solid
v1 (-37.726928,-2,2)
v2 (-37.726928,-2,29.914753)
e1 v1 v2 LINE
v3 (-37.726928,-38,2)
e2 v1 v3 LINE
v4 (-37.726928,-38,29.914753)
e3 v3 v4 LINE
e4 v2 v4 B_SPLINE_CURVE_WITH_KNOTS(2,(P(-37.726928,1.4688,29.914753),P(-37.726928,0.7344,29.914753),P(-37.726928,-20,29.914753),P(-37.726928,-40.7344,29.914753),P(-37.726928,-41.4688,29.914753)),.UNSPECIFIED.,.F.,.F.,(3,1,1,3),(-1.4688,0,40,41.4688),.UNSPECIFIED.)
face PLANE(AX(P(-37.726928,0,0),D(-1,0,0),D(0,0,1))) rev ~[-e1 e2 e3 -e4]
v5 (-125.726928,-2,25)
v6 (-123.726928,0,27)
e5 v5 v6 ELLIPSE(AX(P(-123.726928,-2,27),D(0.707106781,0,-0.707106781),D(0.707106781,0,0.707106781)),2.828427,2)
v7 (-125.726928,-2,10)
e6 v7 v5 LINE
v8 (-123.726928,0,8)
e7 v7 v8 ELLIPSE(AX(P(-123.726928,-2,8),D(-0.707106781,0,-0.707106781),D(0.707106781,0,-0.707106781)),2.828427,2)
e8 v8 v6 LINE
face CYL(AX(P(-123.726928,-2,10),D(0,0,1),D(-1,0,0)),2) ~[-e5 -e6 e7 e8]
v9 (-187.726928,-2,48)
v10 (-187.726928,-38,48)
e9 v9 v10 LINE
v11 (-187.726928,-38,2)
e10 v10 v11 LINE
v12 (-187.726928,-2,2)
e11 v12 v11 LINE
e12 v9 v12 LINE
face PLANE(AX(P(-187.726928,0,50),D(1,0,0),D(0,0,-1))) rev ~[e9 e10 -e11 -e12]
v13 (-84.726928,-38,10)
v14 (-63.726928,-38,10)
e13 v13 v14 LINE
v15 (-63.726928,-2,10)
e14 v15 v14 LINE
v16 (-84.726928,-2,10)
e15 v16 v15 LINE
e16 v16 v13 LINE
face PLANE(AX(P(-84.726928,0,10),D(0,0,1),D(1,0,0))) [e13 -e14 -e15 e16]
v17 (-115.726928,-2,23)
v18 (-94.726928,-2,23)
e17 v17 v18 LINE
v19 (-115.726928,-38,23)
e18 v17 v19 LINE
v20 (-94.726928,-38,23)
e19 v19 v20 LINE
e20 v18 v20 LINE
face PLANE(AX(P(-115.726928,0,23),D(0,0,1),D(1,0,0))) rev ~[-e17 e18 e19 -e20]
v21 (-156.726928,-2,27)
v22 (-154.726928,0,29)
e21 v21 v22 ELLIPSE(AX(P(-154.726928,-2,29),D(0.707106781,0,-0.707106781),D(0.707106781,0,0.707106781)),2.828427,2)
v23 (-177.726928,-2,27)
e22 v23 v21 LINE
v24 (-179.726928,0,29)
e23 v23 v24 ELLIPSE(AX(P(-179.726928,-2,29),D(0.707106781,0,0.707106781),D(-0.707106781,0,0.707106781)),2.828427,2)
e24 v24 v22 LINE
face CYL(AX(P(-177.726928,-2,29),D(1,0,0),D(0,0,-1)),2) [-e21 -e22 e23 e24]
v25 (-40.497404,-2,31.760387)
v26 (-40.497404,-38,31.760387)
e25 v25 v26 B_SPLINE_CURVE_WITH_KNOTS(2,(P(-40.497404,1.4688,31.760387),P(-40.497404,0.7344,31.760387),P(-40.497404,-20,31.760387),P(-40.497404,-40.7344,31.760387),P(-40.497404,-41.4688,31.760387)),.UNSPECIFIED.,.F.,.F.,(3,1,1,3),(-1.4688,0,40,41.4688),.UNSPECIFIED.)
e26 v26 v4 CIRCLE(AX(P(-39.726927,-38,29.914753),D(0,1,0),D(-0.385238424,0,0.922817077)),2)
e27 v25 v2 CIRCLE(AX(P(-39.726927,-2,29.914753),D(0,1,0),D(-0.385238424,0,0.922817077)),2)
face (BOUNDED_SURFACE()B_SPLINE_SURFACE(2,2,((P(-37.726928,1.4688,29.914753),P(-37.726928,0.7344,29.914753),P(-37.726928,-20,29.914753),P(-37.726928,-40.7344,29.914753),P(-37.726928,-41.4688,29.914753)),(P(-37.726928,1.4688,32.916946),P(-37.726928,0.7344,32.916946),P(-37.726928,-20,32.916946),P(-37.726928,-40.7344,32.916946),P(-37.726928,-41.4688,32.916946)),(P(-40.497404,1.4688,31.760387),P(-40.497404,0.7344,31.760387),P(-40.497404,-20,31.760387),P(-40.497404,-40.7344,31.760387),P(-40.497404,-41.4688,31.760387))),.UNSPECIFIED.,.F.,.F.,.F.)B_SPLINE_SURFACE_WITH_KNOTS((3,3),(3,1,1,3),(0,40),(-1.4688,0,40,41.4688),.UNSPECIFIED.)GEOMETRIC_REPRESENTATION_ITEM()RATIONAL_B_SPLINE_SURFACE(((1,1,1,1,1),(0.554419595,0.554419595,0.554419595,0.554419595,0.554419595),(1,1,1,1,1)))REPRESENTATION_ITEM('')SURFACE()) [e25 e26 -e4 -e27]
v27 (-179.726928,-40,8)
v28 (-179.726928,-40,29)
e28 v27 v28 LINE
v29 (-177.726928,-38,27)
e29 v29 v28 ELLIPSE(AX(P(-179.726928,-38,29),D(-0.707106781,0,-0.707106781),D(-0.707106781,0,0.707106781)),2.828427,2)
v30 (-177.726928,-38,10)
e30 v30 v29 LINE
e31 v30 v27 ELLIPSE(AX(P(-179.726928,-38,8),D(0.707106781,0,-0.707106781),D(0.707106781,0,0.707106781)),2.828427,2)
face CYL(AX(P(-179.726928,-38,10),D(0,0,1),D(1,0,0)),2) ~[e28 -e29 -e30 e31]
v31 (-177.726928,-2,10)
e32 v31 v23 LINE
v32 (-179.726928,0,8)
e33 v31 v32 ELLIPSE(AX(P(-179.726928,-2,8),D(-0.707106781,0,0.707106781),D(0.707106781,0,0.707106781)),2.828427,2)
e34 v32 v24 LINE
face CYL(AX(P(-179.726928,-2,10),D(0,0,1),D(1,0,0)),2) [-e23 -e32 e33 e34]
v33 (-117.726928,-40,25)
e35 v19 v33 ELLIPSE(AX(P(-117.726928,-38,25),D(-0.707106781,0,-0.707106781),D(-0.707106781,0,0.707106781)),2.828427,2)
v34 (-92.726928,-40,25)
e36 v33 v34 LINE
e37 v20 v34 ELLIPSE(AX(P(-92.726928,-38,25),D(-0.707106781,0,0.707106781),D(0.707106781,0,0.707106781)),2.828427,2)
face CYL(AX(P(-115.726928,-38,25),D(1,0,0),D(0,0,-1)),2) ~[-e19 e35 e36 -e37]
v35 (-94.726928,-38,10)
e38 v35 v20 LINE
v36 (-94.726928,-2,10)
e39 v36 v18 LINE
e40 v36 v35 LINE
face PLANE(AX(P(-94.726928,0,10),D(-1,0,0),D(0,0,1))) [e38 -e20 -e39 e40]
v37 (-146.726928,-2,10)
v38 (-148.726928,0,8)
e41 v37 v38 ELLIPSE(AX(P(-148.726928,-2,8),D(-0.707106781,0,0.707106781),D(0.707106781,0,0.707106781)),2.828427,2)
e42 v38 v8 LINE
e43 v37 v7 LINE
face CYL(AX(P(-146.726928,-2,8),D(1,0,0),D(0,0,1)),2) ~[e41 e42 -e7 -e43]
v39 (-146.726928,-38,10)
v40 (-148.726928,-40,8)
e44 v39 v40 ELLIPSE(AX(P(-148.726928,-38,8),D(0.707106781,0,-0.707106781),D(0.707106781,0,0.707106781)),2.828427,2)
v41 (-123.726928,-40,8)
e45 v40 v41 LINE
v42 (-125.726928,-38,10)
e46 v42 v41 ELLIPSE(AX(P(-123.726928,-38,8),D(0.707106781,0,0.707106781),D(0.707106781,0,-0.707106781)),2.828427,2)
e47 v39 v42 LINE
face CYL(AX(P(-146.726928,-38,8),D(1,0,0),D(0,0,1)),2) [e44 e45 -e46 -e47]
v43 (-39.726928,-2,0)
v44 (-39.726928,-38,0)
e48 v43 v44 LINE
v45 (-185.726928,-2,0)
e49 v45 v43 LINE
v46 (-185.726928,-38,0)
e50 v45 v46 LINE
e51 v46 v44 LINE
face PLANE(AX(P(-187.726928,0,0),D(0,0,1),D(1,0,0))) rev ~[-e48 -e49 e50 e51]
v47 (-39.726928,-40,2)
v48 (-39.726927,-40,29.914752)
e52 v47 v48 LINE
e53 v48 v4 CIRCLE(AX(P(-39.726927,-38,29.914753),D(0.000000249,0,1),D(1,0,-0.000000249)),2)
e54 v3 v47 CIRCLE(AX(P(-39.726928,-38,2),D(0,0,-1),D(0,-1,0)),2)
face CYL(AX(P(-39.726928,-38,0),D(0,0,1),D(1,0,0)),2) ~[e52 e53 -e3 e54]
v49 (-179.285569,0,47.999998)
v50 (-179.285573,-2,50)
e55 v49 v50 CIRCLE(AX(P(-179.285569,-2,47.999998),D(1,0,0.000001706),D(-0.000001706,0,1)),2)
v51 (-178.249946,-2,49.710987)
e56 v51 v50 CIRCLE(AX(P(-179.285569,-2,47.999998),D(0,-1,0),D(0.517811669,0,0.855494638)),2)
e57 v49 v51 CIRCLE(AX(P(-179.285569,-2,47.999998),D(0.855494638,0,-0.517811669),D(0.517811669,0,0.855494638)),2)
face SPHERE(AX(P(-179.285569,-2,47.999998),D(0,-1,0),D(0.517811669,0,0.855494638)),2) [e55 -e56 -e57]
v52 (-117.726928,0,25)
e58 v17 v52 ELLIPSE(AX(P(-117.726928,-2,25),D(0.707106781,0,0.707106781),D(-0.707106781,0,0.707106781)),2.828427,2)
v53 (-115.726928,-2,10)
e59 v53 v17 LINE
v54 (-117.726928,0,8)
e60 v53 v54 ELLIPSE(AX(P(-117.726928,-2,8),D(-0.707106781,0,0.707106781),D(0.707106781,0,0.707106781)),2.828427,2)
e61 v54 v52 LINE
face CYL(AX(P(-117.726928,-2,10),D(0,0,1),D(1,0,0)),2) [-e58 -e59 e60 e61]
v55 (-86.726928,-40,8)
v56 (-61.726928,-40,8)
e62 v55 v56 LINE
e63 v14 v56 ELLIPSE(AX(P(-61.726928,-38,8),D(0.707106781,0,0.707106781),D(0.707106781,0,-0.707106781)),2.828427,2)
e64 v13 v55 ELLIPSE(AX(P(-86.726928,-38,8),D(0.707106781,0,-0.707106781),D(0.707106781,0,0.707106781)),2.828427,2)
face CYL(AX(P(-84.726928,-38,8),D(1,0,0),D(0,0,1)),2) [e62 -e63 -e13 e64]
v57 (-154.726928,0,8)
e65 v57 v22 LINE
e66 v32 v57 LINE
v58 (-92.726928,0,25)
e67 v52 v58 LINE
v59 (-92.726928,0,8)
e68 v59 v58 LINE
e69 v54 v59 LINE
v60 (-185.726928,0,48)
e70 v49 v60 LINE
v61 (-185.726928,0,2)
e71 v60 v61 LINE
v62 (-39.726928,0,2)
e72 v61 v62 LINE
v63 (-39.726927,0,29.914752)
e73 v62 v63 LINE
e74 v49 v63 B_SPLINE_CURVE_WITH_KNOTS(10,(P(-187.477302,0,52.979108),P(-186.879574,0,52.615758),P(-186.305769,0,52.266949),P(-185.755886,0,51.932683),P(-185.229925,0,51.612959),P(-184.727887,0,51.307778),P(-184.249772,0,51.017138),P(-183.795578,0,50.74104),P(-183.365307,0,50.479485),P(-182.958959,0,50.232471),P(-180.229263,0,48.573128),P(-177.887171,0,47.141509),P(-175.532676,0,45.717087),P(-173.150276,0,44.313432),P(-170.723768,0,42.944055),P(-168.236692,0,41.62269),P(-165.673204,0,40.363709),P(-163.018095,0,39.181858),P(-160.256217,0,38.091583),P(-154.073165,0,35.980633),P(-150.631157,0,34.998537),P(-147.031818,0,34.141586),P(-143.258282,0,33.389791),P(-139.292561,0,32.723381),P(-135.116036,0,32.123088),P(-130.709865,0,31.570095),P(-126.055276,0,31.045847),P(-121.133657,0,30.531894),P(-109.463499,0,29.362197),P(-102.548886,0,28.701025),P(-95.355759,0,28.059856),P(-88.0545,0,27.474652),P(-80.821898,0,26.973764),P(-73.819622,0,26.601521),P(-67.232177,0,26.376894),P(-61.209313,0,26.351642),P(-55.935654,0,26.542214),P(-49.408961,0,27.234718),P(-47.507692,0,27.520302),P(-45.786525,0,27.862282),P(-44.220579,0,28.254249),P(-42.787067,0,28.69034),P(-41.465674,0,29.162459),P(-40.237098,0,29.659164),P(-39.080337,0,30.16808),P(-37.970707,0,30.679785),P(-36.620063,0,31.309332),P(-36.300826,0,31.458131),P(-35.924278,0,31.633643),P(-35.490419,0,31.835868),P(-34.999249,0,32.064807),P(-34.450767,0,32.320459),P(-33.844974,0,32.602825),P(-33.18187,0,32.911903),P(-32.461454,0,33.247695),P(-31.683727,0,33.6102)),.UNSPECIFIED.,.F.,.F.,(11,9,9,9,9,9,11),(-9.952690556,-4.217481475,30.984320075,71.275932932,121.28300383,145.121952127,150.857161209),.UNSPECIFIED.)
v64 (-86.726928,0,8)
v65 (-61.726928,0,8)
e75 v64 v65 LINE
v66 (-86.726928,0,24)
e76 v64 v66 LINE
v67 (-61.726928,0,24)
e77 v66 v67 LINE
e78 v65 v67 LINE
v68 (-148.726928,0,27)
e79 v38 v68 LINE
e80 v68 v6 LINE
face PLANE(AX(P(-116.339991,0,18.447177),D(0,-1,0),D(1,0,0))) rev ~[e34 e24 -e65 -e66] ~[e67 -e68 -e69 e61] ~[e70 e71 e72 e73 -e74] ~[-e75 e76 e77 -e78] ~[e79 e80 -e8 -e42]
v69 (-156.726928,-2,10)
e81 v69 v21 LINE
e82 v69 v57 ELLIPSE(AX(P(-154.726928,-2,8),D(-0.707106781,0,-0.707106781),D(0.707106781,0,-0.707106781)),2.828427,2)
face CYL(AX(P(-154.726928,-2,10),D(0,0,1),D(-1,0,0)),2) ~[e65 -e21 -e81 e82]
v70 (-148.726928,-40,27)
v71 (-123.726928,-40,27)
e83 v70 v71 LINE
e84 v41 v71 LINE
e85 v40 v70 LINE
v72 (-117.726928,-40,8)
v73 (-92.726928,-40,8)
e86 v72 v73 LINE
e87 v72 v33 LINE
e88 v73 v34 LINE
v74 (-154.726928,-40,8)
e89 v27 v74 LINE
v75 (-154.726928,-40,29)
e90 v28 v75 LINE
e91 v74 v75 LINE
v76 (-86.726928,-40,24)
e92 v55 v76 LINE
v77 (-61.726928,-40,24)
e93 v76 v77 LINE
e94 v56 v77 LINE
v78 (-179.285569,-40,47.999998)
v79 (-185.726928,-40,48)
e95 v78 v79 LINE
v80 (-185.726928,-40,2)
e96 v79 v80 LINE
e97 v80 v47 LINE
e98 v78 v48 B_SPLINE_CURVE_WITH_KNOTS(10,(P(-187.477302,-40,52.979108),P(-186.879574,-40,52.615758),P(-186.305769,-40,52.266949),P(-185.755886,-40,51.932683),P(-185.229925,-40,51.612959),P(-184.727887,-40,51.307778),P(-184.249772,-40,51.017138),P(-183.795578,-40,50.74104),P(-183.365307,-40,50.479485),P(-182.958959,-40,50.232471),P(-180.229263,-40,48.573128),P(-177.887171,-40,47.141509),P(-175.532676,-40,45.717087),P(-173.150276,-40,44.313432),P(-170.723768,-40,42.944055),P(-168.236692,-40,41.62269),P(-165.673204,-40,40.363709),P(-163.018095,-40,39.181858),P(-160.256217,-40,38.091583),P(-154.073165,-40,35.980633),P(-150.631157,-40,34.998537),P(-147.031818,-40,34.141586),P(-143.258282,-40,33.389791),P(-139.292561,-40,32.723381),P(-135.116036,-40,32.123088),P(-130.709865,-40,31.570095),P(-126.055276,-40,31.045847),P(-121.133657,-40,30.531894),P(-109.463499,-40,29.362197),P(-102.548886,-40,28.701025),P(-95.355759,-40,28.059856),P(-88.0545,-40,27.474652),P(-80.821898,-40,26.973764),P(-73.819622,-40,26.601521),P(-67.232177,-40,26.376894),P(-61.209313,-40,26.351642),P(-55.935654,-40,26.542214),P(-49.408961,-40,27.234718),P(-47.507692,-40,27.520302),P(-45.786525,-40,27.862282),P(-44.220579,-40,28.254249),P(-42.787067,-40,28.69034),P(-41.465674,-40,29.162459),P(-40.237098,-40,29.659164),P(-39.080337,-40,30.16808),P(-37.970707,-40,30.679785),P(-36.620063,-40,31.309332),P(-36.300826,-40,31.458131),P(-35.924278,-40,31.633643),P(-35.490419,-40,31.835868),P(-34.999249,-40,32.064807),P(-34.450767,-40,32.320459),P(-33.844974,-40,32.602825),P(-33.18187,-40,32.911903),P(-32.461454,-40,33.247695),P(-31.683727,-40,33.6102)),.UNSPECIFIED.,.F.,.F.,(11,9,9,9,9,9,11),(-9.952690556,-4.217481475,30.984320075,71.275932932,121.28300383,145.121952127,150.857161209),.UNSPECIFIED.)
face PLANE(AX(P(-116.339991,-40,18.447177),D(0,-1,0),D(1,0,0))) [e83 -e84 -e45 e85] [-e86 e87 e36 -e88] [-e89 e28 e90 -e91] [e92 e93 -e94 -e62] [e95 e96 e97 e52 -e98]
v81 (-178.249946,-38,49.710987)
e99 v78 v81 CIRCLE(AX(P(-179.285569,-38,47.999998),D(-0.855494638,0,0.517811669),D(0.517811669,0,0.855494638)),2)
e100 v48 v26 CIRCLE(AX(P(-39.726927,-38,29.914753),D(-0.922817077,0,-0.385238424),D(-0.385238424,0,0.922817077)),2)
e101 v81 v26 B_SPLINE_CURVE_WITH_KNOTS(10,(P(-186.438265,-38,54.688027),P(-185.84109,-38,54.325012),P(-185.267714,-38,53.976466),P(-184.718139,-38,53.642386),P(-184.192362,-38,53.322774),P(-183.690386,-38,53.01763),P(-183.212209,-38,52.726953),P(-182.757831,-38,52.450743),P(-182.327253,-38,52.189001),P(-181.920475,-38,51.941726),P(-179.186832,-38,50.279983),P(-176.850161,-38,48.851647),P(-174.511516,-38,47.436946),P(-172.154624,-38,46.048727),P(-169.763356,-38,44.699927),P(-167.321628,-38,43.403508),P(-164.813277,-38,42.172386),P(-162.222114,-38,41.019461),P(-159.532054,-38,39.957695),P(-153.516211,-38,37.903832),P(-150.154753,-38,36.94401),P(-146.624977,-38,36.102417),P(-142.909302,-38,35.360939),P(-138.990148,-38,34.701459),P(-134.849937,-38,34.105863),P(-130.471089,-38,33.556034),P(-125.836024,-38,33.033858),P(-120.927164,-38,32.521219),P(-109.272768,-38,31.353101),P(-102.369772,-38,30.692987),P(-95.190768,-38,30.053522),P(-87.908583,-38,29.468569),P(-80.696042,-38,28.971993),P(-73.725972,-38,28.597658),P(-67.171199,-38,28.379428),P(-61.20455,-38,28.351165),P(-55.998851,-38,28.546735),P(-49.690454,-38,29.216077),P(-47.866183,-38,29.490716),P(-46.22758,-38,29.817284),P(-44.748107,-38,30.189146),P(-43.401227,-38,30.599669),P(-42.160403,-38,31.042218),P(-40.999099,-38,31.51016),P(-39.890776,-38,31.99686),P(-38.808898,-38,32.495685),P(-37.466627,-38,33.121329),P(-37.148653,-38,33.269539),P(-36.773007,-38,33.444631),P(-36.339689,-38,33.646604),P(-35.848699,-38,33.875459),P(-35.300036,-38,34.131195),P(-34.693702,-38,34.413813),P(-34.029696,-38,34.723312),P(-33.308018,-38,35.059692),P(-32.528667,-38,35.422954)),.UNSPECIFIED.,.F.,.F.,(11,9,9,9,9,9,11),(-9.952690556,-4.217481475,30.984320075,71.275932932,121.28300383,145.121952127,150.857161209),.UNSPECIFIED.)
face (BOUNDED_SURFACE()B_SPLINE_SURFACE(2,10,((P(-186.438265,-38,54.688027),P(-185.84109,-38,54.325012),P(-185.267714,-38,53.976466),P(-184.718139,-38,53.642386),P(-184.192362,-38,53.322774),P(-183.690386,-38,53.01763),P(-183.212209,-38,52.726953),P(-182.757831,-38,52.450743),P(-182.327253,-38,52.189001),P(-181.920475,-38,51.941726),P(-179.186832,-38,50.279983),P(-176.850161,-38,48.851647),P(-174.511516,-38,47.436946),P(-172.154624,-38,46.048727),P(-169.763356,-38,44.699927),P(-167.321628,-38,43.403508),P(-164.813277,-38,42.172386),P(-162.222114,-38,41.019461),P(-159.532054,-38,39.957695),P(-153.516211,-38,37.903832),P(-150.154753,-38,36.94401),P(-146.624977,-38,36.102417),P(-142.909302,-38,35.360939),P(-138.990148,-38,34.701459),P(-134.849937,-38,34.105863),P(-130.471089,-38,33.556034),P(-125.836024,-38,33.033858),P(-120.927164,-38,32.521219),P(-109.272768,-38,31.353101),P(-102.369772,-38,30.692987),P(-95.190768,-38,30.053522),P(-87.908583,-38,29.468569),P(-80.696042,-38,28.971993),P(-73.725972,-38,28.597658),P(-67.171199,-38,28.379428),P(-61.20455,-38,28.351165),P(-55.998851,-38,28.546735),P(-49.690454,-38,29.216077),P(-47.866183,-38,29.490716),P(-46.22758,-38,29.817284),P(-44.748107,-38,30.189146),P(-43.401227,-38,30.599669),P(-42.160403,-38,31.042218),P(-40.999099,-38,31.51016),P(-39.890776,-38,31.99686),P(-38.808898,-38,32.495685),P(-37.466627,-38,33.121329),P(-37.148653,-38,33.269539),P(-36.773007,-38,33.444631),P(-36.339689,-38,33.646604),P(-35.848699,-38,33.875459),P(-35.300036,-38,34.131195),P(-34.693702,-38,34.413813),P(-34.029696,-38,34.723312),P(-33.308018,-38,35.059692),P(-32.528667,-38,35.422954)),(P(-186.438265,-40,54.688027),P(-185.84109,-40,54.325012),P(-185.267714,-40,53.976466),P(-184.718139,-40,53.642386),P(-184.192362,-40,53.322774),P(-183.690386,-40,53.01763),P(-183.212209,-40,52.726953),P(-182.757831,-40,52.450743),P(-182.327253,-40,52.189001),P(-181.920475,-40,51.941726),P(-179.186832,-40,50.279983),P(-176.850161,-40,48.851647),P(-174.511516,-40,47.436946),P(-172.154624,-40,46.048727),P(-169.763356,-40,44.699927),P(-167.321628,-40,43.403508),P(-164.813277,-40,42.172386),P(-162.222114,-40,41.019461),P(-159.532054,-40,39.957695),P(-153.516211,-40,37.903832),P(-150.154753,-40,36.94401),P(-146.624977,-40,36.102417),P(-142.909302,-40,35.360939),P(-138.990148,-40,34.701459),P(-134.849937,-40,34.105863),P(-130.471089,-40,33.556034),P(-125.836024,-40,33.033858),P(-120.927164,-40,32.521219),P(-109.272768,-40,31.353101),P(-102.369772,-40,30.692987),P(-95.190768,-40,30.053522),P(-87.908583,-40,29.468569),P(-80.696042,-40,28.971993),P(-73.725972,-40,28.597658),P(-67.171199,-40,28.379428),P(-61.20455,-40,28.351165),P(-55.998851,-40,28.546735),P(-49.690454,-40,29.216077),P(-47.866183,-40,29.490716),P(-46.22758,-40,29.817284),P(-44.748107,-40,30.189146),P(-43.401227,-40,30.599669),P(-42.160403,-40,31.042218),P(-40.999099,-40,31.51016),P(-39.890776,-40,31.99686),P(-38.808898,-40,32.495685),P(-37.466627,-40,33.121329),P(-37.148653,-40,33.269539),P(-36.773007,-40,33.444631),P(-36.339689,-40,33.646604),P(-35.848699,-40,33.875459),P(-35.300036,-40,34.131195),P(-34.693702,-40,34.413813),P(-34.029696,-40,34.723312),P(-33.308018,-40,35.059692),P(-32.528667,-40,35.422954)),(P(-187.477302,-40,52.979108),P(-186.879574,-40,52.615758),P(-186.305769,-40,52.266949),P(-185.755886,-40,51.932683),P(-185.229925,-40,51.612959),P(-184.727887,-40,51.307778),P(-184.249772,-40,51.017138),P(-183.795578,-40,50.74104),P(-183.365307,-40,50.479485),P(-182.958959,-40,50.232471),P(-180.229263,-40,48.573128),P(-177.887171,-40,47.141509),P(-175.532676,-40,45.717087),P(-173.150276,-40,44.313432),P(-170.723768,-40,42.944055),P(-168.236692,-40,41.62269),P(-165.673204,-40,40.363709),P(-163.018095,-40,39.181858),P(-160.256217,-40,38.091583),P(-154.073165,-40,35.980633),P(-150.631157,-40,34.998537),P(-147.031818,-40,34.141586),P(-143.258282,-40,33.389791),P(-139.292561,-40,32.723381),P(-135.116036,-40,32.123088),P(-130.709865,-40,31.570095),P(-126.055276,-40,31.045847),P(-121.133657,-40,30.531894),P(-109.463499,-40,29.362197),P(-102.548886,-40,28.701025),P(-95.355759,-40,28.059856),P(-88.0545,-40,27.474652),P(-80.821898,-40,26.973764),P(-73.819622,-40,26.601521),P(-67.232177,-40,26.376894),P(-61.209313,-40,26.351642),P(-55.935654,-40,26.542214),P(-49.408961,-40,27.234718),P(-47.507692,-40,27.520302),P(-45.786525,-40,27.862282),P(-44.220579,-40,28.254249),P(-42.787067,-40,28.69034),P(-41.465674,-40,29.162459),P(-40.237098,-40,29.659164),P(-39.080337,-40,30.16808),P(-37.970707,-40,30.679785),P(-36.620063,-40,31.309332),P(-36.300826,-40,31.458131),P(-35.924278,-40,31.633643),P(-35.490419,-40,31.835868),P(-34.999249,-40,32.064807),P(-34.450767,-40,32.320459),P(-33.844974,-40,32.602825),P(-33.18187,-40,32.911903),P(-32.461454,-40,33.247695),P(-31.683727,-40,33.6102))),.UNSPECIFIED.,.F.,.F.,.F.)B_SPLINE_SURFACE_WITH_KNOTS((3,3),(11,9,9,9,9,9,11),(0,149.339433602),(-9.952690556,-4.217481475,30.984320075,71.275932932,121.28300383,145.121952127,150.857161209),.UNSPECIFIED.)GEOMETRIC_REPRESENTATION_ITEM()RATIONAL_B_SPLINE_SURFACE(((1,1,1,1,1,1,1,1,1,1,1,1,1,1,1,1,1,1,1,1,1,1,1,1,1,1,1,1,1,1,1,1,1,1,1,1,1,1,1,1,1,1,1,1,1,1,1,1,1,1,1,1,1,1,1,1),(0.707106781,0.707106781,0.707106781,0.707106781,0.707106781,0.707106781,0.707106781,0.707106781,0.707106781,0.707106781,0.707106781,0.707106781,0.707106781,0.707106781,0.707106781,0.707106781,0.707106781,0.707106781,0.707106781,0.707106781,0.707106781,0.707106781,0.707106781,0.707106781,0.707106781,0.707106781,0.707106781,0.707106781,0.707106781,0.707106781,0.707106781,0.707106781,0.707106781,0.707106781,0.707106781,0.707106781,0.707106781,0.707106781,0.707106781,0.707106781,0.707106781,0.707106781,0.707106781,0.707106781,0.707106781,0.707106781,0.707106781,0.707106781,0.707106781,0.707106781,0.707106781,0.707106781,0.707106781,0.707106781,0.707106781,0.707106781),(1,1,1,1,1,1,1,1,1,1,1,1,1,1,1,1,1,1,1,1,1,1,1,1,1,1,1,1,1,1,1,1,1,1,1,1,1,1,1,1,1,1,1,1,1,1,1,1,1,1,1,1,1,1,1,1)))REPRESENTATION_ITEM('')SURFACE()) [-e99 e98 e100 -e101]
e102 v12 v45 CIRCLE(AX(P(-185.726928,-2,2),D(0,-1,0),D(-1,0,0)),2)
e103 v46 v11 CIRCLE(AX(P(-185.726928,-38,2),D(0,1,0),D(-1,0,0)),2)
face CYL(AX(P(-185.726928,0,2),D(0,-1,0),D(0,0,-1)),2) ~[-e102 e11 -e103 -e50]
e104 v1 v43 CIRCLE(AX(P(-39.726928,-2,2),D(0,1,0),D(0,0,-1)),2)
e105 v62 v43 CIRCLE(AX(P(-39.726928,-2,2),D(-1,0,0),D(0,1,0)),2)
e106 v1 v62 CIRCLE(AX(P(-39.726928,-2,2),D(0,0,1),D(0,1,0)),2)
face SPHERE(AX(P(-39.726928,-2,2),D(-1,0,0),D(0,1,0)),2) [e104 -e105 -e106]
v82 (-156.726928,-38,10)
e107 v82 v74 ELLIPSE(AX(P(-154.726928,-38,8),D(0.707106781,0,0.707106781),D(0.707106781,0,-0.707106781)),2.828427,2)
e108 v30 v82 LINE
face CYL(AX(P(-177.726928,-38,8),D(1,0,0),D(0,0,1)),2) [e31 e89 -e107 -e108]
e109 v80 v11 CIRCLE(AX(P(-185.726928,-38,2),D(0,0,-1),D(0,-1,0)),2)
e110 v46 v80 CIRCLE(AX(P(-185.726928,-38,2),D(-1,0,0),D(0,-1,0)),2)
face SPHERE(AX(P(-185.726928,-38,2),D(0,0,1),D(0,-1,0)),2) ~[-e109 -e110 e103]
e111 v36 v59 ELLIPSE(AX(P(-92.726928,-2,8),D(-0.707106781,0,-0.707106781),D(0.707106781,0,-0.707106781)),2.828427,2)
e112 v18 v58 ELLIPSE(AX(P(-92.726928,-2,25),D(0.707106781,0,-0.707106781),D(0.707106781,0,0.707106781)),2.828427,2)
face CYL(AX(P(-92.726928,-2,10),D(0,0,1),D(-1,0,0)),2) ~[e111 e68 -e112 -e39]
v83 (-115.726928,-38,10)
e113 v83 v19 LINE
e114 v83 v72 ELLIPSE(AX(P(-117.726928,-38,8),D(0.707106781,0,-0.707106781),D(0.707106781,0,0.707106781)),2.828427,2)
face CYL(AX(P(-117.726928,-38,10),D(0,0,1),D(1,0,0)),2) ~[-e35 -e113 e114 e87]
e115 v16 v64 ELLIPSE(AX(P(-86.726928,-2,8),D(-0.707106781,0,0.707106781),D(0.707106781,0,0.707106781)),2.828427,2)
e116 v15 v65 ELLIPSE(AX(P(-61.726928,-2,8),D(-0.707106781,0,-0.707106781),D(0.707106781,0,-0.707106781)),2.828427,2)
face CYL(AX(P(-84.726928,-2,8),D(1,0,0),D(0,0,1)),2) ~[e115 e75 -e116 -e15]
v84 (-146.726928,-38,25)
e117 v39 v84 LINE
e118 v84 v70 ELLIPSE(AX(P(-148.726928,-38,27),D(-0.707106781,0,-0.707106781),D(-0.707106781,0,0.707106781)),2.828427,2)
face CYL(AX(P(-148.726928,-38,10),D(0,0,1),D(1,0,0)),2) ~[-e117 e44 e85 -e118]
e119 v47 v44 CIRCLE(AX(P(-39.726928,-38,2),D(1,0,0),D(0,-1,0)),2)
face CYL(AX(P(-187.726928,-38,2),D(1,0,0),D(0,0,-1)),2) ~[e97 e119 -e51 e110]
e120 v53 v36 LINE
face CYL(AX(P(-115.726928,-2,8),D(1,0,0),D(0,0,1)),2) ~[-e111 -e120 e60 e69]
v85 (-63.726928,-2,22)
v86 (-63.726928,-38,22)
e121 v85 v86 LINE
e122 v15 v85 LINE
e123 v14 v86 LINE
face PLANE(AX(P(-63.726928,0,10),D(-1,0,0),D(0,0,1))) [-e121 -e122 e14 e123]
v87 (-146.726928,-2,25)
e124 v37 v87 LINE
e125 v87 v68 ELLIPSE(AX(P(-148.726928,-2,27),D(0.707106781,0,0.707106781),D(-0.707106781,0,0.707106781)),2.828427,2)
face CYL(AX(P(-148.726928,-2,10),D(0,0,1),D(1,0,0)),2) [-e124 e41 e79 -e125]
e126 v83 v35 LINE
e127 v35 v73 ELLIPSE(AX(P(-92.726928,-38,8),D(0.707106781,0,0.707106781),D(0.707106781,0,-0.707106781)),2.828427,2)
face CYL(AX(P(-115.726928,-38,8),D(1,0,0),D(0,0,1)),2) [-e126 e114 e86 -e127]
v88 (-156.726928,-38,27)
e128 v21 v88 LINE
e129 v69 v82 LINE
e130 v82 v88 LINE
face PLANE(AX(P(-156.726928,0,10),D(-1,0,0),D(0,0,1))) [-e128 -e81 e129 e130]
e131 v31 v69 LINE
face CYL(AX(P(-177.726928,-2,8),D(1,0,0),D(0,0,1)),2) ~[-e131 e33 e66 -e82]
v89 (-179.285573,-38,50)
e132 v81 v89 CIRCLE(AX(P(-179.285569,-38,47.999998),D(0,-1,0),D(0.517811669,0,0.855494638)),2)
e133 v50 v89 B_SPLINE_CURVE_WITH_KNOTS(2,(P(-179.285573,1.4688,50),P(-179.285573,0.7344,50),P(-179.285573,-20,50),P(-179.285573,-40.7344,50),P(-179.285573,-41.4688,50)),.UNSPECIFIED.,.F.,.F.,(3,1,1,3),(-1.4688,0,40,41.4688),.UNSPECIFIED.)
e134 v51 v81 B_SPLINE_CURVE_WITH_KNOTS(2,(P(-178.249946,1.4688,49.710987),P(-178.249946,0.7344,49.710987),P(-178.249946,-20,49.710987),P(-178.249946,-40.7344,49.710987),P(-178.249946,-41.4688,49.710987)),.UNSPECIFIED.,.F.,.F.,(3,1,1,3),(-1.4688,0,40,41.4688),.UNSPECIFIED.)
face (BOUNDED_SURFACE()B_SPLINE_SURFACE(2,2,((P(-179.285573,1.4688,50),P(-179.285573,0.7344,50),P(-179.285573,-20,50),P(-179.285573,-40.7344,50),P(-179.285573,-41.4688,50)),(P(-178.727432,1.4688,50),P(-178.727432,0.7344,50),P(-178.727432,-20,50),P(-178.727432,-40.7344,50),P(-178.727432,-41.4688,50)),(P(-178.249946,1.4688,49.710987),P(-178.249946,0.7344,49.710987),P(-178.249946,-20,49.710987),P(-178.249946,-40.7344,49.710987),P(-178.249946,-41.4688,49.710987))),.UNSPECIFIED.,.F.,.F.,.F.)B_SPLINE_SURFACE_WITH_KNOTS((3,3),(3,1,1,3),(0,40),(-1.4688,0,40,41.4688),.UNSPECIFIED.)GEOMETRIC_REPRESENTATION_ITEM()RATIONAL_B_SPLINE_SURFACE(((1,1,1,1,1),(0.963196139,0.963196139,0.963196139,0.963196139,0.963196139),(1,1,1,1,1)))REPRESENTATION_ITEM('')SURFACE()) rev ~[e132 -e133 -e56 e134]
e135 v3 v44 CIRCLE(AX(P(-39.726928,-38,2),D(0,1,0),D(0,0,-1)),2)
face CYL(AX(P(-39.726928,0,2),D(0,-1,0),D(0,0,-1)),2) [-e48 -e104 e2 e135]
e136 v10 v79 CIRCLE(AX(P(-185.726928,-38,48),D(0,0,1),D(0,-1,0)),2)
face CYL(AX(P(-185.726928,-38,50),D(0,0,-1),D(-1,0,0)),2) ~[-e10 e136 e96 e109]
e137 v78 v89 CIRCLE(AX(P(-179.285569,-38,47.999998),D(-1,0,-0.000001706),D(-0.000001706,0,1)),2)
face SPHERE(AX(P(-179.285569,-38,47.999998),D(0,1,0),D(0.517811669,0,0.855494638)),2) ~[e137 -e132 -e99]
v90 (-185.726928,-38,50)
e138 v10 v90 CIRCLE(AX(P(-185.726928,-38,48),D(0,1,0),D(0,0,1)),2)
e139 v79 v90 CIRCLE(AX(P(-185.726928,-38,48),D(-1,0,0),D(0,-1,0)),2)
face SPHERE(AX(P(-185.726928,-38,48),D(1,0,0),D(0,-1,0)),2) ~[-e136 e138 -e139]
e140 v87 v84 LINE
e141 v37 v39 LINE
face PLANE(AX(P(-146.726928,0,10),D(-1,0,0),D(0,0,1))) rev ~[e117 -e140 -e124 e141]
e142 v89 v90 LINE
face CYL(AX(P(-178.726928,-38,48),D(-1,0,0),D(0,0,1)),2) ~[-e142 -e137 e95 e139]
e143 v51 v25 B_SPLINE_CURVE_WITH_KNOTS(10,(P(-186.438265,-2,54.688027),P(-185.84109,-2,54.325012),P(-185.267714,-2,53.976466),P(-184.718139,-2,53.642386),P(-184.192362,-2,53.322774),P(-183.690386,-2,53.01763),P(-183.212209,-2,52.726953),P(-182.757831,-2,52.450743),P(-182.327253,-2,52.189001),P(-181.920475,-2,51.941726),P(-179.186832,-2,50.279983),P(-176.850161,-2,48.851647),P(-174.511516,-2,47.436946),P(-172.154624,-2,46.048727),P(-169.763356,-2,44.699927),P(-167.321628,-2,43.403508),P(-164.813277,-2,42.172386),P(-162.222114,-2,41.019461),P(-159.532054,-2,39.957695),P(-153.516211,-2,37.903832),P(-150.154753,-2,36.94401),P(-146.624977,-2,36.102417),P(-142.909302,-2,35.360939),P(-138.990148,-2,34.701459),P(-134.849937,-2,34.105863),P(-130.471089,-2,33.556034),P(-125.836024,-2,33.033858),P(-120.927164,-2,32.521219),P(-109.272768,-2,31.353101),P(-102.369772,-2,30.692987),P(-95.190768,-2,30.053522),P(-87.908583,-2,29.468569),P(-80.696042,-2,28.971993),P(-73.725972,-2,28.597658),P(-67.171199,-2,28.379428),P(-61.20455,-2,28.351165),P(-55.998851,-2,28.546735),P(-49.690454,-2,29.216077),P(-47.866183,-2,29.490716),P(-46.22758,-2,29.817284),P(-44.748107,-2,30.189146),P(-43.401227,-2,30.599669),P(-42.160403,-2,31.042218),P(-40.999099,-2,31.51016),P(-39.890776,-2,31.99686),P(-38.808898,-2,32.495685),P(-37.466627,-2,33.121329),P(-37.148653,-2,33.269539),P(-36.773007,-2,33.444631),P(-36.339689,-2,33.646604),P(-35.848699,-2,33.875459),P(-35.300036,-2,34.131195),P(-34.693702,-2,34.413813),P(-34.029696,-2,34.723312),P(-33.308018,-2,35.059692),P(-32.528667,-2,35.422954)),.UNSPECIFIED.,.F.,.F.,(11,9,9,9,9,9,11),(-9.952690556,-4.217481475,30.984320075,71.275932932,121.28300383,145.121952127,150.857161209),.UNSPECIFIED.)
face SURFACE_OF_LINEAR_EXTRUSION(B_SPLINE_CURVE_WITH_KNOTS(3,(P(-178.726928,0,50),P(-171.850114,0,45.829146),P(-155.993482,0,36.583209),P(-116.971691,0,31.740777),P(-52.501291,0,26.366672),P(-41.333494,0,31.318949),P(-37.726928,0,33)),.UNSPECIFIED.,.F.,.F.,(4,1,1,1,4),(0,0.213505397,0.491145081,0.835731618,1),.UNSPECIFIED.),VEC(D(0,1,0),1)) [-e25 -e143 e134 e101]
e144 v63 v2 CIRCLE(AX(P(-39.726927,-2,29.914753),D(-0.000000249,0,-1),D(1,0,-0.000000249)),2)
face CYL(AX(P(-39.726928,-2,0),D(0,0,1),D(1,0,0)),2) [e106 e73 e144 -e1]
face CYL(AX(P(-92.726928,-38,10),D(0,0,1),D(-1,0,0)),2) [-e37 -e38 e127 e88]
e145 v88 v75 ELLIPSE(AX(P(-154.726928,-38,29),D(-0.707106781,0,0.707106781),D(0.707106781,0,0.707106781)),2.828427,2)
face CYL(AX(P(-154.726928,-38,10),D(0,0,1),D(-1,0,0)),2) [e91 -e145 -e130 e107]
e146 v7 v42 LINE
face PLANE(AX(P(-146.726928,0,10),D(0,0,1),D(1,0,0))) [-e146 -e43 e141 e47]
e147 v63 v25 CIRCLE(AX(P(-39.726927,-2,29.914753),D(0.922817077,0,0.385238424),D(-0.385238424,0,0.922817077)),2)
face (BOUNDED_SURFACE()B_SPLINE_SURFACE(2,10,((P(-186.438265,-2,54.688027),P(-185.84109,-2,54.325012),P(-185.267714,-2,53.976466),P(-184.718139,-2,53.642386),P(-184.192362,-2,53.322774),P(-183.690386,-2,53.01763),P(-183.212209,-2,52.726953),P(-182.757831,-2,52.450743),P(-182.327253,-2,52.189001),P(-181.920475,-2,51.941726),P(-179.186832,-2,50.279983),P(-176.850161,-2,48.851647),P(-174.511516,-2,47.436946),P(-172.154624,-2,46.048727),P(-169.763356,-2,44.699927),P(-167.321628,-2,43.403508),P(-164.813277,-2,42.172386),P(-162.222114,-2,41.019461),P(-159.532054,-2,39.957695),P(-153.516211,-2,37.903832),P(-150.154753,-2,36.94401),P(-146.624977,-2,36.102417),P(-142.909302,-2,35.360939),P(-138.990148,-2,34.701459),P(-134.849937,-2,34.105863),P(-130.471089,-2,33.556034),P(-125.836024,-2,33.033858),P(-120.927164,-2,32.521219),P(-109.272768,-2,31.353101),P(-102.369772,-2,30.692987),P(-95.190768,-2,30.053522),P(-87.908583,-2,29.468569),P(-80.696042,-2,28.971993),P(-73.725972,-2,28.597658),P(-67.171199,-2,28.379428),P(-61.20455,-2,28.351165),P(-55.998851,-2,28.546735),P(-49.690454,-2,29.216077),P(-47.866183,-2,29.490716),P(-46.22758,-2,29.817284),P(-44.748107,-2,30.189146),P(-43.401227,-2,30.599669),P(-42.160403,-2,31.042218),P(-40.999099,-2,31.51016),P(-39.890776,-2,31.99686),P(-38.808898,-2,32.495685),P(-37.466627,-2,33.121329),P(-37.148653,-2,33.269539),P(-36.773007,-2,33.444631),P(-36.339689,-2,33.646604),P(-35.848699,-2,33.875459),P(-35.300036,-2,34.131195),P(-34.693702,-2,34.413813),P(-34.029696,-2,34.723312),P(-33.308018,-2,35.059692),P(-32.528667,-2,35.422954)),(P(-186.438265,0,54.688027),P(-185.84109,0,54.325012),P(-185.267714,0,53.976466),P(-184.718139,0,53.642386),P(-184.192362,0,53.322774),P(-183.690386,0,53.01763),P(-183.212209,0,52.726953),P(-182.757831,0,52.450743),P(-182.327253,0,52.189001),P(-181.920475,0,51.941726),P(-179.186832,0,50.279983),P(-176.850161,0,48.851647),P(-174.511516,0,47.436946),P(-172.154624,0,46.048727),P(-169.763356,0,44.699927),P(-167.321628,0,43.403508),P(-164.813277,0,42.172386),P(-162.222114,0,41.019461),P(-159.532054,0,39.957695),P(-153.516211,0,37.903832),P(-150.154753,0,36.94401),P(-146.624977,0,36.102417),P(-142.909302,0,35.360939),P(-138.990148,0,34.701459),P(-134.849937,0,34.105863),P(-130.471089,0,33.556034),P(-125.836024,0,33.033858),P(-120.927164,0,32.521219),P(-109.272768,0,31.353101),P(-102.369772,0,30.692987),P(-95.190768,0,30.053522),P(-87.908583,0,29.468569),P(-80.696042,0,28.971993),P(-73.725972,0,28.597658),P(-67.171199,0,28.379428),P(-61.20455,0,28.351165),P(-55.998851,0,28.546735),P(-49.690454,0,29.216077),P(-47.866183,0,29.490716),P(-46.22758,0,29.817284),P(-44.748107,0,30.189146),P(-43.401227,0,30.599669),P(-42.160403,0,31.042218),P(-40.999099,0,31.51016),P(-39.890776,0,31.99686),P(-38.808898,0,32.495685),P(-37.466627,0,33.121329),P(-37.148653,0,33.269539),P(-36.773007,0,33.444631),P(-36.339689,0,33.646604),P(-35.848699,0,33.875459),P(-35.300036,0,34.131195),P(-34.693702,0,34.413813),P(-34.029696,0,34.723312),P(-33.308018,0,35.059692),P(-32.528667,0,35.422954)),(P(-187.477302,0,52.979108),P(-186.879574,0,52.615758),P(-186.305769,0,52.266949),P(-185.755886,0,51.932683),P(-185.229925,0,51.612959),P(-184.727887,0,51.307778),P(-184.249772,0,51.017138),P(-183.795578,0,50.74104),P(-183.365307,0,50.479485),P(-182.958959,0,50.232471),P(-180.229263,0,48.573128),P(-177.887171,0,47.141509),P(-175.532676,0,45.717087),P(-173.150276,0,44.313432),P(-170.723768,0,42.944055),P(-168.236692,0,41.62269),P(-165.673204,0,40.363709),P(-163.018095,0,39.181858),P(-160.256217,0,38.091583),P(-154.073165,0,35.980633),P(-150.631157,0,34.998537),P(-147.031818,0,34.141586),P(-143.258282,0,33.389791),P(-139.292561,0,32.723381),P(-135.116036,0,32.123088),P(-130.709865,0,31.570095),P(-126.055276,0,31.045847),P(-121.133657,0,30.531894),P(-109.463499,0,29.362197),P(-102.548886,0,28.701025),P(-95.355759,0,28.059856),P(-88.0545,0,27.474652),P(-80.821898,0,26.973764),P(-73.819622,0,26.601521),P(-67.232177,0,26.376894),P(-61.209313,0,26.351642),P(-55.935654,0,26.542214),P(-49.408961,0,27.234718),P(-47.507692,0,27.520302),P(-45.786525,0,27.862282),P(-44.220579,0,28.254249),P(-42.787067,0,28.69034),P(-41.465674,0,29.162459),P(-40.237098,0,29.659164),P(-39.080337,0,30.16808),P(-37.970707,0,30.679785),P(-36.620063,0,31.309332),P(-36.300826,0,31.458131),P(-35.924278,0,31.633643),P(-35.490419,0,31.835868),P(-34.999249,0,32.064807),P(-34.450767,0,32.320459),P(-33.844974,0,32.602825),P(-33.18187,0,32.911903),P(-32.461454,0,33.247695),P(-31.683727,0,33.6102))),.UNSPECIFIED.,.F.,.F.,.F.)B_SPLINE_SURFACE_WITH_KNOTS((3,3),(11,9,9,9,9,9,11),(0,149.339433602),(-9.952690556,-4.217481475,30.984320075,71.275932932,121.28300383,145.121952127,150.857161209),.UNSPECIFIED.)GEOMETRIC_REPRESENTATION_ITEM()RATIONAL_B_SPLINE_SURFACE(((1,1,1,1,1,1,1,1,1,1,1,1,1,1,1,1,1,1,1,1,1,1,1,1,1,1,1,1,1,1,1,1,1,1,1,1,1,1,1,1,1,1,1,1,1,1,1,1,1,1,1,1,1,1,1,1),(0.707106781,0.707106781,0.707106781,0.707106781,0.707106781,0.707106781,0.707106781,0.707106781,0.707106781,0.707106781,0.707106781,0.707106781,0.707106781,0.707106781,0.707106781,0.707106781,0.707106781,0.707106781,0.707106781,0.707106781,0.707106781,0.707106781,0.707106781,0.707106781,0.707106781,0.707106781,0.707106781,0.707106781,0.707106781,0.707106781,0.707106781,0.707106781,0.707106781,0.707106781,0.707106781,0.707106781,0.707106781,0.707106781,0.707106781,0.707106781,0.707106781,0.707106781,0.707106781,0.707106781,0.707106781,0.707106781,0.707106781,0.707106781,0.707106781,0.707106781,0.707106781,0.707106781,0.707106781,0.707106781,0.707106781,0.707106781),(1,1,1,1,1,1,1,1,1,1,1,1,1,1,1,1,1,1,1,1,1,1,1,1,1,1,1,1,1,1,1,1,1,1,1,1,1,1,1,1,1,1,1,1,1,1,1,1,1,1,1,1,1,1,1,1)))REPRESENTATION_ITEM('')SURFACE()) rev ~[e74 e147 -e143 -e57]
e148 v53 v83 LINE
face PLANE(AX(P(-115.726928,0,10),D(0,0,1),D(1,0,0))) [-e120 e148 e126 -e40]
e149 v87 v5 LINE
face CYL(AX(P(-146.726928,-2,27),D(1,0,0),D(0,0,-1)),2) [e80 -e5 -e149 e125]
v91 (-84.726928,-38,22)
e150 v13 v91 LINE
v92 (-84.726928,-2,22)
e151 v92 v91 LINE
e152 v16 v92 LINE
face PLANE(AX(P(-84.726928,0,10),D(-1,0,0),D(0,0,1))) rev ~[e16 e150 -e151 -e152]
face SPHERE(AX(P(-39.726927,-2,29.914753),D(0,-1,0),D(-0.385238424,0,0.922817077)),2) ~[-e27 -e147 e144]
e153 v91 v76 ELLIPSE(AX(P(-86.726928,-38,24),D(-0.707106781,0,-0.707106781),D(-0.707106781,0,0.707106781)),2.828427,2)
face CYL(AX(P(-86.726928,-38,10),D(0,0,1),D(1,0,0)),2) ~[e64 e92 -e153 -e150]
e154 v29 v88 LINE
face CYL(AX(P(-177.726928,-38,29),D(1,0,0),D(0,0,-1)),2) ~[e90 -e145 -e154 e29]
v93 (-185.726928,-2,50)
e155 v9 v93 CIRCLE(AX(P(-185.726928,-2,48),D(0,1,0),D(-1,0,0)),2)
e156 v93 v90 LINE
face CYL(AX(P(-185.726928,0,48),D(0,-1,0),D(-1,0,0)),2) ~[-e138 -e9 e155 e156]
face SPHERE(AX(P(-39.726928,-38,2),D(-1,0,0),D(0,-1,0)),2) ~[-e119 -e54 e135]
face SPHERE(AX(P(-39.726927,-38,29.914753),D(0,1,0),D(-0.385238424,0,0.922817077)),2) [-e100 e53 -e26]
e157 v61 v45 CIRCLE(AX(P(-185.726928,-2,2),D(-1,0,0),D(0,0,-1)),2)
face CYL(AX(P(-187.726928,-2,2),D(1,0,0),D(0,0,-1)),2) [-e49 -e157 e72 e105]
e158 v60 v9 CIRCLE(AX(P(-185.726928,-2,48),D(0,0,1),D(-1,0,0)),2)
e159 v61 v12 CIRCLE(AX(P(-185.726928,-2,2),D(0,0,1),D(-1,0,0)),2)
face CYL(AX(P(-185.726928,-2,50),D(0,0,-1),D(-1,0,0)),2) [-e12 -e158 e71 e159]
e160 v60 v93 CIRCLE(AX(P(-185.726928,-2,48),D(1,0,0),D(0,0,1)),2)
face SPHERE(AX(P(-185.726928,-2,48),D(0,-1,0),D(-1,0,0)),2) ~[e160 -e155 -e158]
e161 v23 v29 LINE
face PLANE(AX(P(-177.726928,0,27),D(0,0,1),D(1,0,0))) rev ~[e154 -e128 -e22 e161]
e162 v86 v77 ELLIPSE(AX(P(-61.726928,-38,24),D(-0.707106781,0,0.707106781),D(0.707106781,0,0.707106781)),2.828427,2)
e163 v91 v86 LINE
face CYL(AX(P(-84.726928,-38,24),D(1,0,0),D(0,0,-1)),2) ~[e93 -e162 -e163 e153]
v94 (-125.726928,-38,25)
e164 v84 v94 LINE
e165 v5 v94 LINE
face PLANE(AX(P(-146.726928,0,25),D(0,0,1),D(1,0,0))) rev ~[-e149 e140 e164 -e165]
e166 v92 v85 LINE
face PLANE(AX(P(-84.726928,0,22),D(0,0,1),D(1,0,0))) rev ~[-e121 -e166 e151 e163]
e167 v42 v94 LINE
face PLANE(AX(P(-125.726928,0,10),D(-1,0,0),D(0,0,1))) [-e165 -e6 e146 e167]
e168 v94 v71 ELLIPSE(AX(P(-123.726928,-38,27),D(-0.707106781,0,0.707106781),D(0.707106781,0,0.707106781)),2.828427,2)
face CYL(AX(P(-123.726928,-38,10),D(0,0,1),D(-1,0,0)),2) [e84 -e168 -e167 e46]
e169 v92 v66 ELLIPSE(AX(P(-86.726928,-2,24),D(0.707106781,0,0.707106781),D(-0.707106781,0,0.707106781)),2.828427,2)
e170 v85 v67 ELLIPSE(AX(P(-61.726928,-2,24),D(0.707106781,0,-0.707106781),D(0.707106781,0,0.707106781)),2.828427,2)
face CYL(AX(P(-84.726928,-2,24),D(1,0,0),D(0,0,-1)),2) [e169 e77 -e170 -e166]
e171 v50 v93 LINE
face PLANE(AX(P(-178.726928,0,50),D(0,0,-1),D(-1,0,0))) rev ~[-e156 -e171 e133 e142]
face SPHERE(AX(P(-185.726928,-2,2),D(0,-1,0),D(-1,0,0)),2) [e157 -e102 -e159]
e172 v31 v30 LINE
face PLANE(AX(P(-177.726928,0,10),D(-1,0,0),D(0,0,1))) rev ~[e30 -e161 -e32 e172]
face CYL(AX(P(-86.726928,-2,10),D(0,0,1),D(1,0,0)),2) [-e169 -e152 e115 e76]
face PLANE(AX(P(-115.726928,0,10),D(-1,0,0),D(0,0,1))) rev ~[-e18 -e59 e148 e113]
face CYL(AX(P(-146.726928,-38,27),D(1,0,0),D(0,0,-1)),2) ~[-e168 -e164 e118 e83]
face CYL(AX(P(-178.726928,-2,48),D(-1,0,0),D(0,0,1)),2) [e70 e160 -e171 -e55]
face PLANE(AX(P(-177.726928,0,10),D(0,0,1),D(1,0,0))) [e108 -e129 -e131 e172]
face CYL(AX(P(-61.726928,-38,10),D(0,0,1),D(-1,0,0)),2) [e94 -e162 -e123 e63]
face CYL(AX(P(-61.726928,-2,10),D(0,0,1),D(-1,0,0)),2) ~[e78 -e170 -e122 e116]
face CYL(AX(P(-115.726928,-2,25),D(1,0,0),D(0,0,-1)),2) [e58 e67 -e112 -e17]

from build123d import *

# Parameters (mm, degrees)
F0_W     = 21
F0_H     = 17
F0_H_2   = 15
F0_H_3   = 13
F0_H_4   = 12
F1_DEPTH = 40
F2_R     = 2


with BuildPart() as f1:
    # F0 (on Front) → F1 (new body)
    with BuildSketch(Plane.XZ):
        with BuildLine():
            Line((-187.7269284463, 10), (-187.7269284463, 0))
            Line((-187.7269284463, 0), (-177.7269284463, 0))
            Line((-177.7269284463, 0), (-156.7269284463, 0))
            Line((-156.7269284463, 0), (-146.7269284463, 0))
            Line((-146.7269284463, 0), (-125.7269284463, 0))
            Line((-125.7269284463, 0), (-115.7269284463, 0))
            Line((-115.7269284463, 0), (-94.7269284463, 0))
            Line((-94.7269284463, 0), (-84.7269284463, 0))
            Line((-84.7269284463, 0), (-63.7269284463, 0))
            Line((-63.7269284463, 0), (-51.7269284463, 0))
            Line((-51.7269284463, 0), (-37.7269284463, 0))
            Line((-37.7269284463, 0), (-37.7269284463, 33))
            add(Edge.make_bspline(
                [(-178.7269284463, 50), (-171.8501135131, 45.8291458601), (-155.9934821594, 36.5832092462), (-116.9716909033, 31.7407768444), (-52.5012909301, 26.3666718297), (-41.333494482, 31.3189487613), (-37.7269284463, 33)],
                knots=[0, 0, 0, 0, 0.2135053975, 0.491145081, 0.8357316178, 1, 1, 1, 1], degree=3))
            Line((-178.7269284463, 50), (-187.7269284463, 50))
            Line((-187.7269284463, 50), (-187.7269284463, 10))
        make_face()
        with Locations((-167.2269284463, 18.5)):
            Rectangle(F0_W, F0_H, mode=Mode.SUBTRACT)
        with Locations((-136.2269284463, 17.5)):
            Rectangle(F0_W, F0_H_2, mode=Mode.SUBTRACT)
        with Locations((-105.2269284463, 16.5)):
            Rectangle(F0_W, F0_H_3, mode=Mode.SUBTRACT)
        with Locations((-74.2269284463, 16)):
            Rectangle(F0_W, F0_H_4, mode=Mode.SUBTRACT)
    extrude(amount=F1_DEPTH)

    # F2
    f2_edges = [f1.edges().sort_by_distance(p)[0] for p in [
        (-109.525437, -40, 31.392581),
        (-183.226928, -40, 50),
        (-187.726928, -40, 25),
        (-112.726928, -40, 0),
        (-37.726928, -40, 16.5),
        (-167.226928, -40, 10),
        (-177.726928, -40, 18.5),
        (-167.226928, -40, 27),
        (-156.726928, -40, 18.5),
        (-136.226928, -40, 10),
        (-146.726928, -40, 17.5),
        (-136.226928, -40, 25),
        (-125.726928, -40, 17.5),
        (-105.226928, -40, 10),
        (-115.726928, -40, 16.5),
        (-105.226928, -40, 23),
        (-94.726928, -40, 16.5),
        (-74.226928, -40, 10),
        (-84.726928, -40, 16),
        (-74.226928, -40, 22),
        (-63.726928, -40, 16),
        (-37.726928, -20, 33),
        (-178.726928, -20, 50),
        (-109.525437, 0, 31.392581),
        (-187.726928, -20, 50),
        (-187.726928, -20, 0),
        (-187.726928, 0, 25),
        (-183.226928, 0, 50),
        (-112.726928, 0, 0),
        (-37.726928, 0, 16.5),
        (-167.226928, 0, 10),
        (-177.726928, 0, 18.5),
        (-167.226928, 0, 27),
        (-156.726928, 0, 18.5),
        (-136.226928, 0, 10),
        (-146.726928, 0, 17.5),
        (-136.226928, 0, 25),
        (-125.726928, 0, 17.5),
        (-105.226928, 0, 10),
        (-115.726928, 0, 16.5),
        (-105.226928, 0, 23),
        (-94.726928, 0, 16.5),
        (-74.226928, 0, 10),
        (-84.726928, 0, 16),
        (-74.226928, 0, 22),
        (-63.726928, 0, 16),
        (-37.726928, -20, 0),
    ]]
    fillet(f2_edges, radius=F2_R)


solid = f1.part
